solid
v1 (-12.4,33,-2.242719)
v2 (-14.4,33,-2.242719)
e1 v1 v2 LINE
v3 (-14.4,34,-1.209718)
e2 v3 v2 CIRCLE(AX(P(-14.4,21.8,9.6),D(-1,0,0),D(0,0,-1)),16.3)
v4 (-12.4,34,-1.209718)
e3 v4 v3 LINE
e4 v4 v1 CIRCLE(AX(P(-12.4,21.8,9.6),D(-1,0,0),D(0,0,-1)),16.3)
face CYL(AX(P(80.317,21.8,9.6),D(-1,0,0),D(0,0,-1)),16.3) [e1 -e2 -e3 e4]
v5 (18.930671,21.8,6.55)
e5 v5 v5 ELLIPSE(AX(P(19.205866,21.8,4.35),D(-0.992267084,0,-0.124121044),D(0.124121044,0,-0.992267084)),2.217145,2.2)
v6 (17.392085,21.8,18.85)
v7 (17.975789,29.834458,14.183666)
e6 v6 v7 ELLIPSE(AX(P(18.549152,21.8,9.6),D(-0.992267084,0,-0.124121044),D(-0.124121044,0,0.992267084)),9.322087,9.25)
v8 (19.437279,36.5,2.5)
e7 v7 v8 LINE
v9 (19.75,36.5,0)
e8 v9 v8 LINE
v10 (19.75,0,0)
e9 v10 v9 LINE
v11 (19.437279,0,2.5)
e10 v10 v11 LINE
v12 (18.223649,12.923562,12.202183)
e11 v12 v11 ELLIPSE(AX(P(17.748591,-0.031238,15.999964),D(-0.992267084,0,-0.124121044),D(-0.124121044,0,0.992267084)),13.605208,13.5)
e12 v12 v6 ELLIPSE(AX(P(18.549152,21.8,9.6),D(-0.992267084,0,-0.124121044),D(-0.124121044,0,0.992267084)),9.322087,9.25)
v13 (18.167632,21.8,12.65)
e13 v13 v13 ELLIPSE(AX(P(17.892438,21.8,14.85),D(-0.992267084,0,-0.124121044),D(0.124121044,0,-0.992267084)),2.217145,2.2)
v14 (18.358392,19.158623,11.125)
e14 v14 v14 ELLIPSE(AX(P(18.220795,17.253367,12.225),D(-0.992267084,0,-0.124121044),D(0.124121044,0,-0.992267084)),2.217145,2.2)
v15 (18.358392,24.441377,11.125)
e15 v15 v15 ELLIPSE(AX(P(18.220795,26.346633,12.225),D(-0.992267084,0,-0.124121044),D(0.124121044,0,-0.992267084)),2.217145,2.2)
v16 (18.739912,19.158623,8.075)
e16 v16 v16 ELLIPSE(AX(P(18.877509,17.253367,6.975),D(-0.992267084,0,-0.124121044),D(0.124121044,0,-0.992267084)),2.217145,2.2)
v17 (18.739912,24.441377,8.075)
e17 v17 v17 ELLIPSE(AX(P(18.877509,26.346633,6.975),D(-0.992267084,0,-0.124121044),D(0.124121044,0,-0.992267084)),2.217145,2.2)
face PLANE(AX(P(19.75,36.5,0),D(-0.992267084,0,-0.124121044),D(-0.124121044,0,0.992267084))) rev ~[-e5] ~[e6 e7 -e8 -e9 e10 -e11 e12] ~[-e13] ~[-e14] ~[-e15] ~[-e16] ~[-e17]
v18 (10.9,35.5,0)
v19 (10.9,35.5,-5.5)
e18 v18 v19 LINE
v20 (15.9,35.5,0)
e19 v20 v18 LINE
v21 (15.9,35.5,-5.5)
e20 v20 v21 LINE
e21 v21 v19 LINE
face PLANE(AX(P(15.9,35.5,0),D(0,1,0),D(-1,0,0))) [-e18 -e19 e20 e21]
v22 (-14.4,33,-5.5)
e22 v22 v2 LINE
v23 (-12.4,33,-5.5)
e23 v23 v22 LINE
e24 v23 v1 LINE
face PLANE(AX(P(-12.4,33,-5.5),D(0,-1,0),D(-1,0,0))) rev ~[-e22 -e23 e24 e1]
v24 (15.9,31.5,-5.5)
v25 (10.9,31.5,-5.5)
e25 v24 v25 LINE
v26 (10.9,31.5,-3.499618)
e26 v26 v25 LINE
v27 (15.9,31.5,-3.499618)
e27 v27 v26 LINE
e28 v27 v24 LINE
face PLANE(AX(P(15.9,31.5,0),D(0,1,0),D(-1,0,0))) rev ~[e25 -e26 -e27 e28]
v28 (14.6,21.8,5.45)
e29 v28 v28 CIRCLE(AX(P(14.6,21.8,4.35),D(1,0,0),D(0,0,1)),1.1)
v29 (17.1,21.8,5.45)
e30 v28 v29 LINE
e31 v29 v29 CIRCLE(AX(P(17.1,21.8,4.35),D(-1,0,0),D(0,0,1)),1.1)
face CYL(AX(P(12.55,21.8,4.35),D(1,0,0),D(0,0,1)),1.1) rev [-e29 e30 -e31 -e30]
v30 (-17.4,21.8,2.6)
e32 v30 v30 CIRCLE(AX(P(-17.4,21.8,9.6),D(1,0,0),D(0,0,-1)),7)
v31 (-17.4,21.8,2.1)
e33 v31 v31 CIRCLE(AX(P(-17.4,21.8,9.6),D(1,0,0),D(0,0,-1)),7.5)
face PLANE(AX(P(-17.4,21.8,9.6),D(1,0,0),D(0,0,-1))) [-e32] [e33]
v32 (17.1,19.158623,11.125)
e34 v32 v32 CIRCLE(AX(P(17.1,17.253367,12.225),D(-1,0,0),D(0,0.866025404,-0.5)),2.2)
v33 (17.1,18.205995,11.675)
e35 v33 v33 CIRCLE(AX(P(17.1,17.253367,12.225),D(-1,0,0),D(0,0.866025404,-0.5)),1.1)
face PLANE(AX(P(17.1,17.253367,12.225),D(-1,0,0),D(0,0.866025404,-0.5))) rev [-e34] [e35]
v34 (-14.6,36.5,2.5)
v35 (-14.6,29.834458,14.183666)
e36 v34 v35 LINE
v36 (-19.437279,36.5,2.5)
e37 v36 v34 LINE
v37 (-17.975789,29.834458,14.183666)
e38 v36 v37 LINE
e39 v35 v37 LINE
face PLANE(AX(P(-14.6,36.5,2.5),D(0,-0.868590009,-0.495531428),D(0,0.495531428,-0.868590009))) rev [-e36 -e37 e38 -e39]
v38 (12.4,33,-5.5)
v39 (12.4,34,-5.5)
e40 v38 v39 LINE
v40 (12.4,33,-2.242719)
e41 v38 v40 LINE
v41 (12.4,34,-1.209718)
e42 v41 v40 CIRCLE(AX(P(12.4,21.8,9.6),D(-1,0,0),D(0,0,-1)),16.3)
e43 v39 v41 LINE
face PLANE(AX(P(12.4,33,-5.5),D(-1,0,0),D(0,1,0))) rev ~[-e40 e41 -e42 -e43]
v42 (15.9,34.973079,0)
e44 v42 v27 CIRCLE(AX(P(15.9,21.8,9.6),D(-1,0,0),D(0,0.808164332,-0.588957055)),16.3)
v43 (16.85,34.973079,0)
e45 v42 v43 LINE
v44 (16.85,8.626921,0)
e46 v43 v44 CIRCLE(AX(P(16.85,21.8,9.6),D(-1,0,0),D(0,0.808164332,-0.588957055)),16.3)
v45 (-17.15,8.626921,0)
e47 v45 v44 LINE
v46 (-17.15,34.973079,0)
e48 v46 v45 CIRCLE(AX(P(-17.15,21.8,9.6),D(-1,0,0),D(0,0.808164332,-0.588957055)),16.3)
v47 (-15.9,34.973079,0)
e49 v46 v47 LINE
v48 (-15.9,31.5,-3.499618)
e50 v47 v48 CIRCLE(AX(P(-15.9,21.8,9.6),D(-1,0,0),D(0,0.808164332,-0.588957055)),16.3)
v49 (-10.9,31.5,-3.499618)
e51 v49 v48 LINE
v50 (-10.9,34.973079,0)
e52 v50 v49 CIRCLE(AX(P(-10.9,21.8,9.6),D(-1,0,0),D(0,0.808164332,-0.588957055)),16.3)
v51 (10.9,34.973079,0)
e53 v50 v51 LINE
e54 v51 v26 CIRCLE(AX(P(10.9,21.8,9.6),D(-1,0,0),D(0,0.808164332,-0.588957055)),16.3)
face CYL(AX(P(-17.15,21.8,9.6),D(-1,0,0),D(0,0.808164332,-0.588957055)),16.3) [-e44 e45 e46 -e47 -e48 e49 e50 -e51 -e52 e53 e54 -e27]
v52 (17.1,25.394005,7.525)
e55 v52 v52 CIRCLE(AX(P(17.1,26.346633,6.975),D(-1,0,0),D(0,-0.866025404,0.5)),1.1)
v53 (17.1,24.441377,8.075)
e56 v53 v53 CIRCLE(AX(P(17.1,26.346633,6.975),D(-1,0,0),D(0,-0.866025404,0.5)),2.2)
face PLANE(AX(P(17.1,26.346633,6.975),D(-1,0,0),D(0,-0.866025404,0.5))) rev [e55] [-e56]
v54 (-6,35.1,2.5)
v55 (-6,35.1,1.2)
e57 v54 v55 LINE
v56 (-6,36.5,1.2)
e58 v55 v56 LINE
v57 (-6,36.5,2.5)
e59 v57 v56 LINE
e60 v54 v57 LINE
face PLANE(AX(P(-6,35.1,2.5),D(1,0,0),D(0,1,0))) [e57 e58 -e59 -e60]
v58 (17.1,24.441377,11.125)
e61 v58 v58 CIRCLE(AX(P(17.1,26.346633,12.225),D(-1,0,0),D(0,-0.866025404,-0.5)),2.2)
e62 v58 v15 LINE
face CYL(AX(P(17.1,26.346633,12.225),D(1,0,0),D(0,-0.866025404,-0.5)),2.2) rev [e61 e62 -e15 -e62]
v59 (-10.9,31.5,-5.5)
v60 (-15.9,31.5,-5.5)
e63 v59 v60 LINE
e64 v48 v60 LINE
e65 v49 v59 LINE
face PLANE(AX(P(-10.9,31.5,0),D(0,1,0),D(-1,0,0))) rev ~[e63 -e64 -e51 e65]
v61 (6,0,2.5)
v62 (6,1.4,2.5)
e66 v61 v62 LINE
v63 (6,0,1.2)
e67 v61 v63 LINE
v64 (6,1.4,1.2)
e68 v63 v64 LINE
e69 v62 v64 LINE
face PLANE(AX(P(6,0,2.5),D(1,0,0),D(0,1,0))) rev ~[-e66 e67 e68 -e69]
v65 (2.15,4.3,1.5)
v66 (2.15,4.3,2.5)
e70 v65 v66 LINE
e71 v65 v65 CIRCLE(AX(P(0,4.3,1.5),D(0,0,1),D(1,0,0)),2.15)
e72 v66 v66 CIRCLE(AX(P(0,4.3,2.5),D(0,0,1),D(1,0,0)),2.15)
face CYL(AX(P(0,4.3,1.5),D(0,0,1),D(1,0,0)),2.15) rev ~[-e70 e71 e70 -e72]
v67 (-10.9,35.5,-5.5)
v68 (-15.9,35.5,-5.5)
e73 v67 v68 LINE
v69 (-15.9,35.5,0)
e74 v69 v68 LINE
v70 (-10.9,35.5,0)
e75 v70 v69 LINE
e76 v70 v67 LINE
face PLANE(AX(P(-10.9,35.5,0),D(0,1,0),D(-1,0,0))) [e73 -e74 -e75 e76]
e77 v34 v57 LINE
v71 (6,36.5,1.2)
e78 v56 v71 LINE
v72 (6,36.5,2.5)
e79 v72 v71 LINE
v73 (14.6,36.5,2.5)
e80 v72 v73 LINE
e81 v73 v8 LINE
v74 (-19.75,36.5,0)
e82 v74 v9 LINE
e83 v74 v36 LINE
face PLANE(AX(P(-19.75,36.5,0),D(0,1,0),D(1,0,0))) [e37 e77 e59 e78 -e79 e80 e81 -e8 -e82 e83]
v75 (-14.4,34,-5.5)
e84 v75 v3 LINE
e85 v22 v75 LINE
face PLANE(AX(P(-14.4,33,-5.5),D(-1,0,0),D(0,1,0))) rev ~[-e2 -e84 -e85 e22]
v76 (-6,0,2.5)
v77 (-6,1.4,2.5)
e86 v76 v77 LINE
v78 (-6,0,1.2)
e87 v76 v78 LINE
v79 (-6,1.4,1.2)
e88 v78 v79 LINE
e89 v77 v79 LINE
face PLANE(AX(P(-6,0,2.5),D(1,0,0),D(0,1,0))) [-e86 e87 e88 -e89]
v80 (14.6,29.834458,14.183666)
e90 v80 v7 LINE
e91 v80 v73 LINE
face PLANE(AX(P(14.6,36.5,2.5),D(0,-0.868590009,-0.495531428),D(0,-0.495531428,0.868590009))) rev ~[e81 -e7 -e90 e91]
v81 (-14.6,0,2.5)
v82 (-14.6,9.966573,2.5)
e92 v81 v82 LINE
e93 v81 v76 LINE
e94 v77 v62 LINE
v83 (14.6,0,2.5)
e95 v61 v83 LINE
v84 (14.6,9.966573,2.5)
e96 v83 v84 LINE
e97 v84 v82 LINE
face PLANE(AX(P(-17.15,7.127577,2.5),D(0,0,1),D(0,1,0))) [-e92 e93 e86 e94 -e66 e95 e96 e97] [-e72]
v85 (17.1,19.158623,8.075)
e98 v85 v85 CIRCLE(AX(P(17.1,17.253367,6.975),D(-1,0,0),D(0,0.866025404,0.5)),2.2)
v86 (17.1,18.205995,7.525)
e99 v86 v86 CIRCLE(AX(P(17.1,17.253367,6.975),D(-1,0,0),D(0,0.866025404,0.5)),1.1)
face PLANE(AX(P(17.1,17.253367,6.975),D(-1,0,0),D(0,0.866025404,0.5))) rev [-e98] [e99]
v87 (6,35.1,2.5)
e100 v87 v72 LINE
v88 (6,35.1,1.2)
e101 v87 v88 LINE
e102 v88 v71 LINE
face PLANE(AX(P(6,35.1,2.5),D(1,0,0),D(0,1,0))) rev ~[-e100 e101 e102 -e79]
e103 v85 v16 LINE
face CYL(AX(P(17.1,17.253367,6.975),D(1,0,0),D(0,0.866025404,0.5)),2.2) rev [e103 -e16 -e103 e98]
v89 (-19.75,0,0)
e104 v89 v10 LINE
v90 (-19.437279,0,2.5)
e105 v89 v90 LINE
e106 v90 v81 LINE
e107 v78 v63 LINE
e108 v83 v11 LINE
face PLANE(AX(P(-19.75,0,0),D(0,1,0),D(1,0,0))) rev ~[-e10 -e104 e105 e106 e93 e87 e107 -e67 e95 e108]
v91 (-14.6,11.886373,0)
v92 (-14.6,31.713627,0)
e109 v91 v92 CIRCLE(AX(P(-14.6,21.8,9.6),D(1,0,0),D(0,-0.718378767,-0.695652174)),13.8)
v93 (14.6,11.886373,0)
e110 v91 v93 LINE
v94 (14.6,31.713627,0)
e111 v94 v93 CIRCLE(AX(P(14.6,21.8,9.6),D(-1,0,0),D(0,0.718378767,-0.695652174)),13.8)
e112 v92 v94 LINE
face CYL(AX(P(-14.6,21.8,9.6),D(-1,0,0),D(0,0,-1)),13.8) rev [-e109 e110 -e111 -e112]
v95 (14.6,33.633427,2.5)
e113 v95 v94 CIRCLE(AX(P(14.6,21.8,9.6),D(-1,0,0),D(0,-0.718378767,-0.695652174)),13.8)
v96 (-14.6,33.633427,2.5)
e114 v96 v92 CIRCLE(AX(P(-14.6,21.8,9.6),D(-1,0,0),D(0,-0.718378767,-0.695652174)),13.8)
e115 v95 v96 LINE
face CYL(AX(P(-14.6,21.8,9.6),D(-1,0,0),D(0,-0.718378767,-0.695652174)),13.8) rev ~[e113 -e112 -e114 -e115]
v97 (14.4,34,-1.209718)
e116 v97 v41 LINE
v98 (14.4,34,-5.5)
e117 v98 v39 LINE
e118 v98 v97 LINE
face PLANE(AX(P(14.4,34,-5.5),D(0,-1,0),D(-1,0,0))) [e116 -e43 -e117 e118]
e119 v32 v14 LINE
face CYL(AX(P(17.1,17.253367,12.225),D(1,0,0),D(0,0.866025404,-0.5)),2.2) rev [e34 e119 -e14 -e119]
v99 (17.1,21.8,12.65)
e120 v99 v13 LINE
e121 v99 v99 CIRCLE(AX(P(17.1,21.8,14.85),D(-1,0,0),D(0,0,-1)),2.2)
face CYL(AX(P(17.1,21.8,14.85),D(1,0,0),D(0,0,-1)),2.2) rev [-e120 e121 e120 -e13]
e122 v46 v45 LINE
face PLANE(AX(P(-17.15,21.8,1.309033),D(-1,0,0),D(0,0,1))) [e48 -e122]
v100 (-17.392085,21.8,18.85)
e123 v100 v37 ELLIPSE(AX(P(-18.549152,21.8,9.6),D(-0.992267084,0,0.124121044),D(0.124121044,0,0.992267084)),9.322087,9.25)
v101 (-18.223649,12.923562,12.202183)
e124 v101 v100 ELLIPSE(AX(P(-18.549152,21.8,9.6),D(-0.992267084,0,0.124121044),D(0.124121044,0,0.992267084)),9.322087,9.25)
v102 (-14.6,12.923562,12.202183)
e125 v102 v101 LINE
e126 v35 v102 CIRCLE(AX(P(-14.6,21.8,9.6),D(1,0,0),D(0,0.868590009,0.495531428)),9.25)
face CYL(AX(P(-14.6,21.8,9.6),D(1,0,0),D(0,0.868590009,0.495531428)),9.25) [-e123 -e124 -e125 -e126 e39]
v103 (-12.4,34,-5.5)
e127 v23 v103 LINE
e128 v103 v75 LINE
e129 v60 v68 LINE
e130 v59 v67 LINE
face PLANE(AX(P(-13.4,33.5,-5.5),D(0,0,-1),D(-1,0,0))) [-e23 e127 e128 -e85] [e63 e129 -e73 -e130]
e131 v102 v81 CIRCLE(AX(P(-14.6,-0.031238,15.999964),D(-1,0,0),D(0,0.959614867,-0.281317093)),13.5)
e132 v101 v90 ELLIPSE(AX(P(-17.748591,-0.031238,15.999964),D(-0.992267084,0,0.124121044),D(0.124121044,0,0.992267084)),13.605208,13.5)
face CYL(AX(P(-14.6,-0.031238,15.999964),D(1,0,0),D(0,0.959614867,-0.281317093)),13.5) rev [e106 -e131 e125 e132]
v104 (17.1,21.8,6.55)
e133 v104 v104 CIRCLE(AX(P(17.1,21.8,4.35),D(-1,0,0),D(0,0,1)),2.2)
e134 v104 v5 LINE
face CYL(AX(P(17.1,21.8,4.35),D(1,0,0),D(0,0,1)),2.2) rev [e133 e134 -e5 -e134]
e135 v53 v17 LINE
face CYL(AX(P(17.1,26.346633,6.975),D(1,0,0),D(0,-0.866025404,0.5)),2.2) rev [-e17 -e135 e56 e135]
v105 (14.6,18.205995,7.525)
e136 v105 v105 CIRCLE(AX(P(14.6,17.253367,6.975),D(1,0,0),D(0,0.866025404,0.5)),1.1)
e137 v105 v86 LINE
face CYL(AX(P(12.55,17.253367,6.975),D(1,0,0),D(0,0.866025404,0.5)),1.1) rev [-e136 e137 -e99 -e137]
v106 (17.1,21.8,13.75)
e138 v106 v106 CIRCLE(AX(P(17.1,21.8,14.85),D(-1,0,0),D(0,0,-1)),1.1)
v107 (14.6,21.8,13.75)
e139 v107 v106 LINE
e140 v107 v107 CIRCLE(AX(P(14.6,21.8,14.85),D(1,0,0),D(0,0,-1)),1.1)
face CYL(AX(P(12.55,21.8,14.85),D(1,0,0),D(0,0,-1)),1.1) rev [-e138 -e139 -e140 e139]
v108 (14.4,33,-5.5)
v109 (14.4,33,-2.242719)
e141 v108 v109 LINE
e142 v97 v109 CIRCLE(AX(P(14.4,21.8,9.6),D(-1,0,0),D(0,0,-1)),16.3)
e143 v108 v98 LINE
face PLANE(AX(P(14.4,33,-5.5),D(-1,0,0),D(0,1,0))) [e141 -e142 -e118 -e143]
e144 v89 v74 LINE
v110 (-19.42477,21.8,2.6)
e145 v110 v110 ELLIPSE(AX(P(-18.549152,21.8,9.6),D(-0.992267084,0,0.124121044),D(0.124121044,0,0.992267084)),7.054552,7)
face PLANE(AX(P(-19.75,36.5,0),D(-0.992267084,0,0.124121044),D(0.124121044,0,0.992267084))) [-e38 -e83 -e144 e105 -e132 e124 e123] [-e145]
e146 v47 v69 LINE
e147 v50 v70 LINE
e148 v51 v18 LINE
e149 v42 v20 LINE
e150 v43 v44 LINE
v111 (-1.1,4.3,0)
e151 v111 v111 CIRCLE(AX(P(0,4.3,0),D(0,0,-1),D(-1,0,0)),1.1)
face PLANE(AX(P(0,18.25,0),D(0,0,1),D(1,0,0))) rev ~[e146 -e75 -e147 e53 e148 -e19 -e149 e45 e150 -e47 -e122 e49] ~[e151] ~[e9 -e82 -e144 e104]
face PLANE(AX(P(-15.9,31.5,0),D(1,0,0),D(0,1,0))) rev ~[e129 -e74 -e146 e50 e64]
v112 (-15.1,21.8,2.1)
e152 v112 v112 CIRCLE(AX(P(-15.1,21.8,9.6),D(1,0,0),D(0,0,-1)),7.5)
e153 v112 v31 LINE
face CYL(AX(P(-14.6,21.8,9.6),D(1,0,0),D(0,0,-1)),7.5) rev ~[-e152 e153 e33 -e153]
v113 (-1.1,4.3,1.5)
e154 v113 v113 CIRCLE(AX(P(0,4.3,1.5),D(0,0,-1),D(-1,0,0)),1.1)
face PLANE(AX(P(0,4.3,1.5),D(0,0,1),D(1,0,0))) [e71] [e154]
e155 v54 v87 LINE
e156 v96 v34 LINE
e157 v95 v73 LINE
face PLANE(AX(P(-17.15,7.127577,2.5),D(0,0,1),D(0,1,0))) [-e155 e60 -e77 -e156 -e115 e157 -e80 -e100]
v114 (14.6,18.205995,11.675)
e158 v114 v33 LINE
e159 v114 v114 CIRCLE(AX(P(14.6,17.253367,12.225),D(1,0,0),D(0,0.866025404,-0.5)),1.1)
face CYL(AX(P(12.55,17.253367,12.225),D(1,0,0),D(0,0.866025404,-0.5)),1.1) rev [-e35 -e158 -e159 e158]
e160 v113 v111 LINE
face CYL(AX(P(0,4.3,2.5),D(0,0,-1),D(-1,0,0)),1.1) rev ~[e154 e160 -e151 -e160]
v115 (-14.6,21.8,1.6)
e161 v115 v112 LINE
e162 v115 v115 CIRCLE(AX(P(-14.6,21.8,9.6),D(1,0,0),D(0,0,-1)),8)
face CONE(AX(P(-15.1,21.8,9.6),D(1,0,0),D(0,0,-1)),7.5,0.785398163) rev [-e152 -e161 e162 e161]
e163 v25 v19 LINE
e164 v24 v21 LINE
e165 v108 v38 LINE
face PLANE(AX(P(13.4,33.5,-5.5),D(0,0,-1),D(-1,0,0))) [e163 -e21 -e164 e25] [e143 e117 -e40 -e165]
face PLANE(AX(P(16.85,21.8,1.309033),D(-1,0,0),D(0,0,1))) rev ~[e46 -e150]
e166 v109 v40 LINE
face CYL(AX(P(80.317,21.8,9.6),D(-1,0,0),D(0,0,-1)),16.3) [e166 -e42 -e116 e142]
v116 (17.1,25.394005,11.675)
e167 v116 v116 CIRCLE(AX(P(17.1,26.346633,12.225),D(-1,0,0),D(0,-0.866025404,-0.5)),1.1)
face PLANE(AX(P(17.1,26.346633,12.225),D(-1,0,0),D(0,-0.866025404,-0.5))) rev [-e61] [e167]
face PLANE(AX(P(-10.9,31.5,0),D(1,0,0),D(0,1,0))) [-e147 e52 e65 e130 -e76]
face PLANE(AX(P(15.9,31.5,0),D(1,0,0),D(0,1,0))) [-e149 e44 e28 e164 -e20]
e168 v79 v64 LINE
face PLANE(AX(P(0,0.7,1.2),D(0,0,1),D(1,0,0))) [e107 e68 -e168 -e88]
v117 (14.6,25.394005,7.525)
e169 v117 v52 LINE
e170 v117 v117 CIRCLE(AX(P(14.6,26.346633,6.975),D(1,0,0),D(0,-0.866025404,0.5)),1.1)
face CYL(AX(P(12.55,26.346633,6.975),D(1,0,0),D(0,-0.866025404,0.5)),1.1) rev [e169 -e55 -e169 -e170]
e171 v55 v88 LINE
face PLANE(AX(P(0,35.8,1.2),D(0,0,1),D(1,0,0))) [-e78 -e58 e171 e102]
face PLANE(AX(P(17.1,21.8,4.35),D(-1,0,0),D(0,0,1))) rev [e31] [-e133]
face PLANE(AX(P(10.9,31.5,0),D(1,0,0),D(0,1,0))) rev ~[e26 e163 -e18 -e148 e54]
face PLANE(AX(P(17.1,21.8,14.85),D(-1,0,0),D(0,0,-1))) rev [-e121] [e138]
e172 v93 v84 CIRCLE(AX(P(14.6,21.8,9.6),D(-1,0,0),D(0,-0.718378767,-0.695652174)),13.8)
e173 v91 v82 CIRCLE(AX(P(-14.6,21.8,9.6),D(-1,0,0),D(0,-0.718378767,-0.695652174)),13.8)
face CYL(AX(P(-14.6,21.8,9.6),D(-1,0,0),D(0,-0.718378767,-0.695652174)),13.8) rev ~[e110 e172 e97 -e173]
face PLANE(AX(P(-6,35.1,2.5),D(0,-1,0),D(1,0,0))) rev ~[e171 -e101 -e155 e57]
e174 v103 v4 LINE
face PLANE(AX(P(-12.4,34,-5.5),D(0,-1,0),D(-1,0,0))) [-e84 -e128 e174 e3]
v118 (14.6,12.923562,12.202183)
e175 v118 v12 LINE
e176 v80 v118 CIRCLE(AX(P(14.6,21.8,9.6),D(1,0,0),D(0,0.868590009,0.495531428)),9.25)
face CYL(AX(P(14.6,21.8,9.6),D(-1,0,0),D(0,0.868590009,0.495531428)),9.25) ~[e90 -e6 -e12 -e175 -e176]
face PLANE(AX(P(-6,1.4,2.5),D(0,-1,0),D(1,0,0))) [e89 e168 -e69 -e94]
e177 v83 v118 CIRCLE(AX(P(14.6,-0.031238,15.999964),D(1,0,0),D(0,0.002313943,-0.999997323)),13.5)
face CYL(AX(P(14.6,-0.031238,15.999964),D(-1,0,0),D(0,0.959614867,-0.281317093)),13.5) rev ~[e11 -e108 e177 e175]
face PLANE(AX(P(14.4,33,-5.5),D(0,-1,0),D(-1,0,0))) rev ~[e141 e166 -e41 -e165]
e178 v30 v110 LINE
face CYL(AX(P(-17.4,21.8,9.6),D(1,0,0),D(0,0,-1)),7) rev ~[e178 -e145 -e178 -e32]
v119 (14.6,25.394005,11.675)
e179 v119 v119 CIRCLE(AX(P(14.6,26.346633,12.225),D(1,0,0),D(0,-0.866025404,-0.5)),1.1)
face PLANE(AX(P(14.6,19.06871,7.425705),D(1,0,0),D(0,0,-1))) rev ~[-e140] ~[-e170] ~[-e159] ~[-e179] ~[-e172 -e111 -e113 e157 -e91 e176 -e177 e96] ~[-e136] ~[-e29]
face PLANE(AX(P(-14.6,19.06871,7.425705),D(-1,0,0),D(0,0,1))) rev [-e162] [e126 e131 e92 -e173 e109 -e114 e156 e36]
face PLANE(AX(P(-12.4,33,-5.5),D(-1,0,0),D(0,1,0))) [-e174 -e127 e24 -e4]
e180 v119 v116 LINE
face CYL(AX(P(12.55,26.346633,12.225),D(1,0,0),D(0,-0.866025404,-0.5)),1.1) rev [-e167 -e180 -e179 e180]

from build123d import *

# Parameters (mm, degrees)
SKETCH_1_W                   = 39.5
SKETCH_1_H                   = 36.5
EXTRUDE_1_DEPTH              = 2.5
EXTRUDE_START                = -2.6
EXTRUDE_2_DEPTH              = 34
EXTRUDE_START_2              = 14.6
EXTRUDE_3_DEPTH              = 5.15
SKETCH_4_W                   = 5
SKETCH_4_H                   = 4
EXTRUDE_4_DEPTH              = 5.5
CUT_EXTRUDE_1_REACH          = 50.117
CUT_EXTRUDE_1_END_RADIUS     = 16.3
SKETCH_5_W                   = 2
SKETCH_5_H                   = 1
CUT_EXTRUDE_2_DEPTH          = 29.2
SKETCH_7_R                   = 7.5
CUT_EXTRUDE_3_DEPTH          = 2.8
SKETCH_8_R                   = 7
CUT_EXTRUDE_4_DEPTH          = 56.3867764
CHAMFER_1_SIZE               = 0.5
SKETCH_9_W                   = 12
SKETCH_9_H                   = 1.4
CUT_EXTRUDE_5_DEPTH          = 1.3
HOLE_WIZARD_M2_1_D           = 2.2
HOLE_WIZARD_M2_1_CBORE_D     = 4.3
HOLE_WIZARD_M2_1_CBORE_DEPTH = 1
SKETCH_10_W                  = 12
SKETCH_10_H                  = 1.4
CUT_EXTRUDE_6_DEPTH          = 1.3
PATTERN_CIRCULAR_1_COUNT     = 6
CUT_EXTRUDE_7_DEPTH          = 46.581081602
SKETCH_17_R                  = 13.8
CUT_EXTRUDE_8_DEPTH          = 29.2


with BuildPart() as part:
    # 草图1 → 凸台-拉伸1 (new body)
    with BuildSketch(Plane.XY):
        with Locations((0, 18.25)):
            Rectangle(SKETCH_1_W, SKETCH_1_H)
    extrude(amount=EXTRUDE_1_DEPTH)

    # 草图2 → 凸台-拉伸2 (add)
    with BuildSketch(Plane.ZY.offset(19.75).offset(EXTRUDE_START)):
        with BuildLine():
            Line((2.5, 7.127576887), (2.5, 36.472423113))
            ThreePointArc((2.5, 36.472423113), (1.216414342, 35.778751429), (0, 34.973078608))
            Line((0, 34.973078608), (0, 8.626921392))
            ThreePointArc((0, 8.626921392), (1.216414342, 7.821248571), (2.5, 7.127576887))
        make_face()
        with BuildLine():
            Line((0, 8.626921392), (0, 34.973078608))
            ThreePointArc((0, 34.973078608), (-6.7, 21.8), (0, 8.626921392))
        make_face()
    extrude(amount=-EXTRUDE_2_DEPTH)

    # 草图3 → 凸台-拉伸3 (add, through all)
    with BuildSketch(Plane(origin=(0, 0, 0), x_dir=(0, 0, -1), z_dir=(1, 0, 0)).offset(EXTRUDE_START_2)):
        with BuildLine():
            Line((-2.5, 36.5), (-14.183665706, 29.834457586))
            ThreePointArc((-14.183665706, 29.834457586), (-18.787148585, 20.723523862), (-12.202183107, 12.923562478))
            ThreePointArc((-12.202183107, 12.923562478), (-5.203778934, 8.073846044), (-2.5, 0))
            Line((-2.5, 0), (-2.5, 36.5))
        make_face()
    extrude_3 = extrude(amount=EXTRUDE_3_DEPTH)

    # 镜向1: 凸台-拉伸3 across plane
    add(extrude_3.mirror(Plane(origin=(0, 0, 0), x_dir=(0, 0, 1), z_dir=(1, 0, 0))))

    # 草图4 → 凸台-拉伸4 (add)
    with BuildSketch(Plane(origin=(0, 0, 0), x_dir=(-1, 0, 0), z_dir=(0, 0, -1))):
        with Locations((-13.4, 33.5)):
            Rectangle(SKETCH_4_W, SKETCH_4_H)
        with Locations((13.4, 33.5)):
            Rectangle(SKETCH_4_W, SKETCH_4_H)
    extrude(amount=EXTRUDE_4_DEPTH)

    # 切除-拉伸1: up to this cylinder (the profile starts outside it)
    cut_extrude_1_end = Plane(origin=(0, 21.8, 9.6), z_dir=(-1, 0, 0)) * Cylinder(CUT_EXTRUDE_1_END_RADIUS, 160.634, mode=Mode.PRIVATE)
    # 草图5 → 切除-拉伸1 (cut, up to the surface)
    with BuildSketch(Plane(origin=(0, 0, -5.5), x_dir=(-1, 0, 0), z_dir=(0, 0, -1)), mode=Mode.PRIVATE) as cut_extrude_1_sk1:
        with Locations((-13.4, 33.5)):
            Rectangle(SKETCH_5_W, SKETCH_5_H)
    cut_extrude_1_tool1 = extrude(cut_extrude_1_sk1.sketch, amount=-CUT_EXTRUDE_1_REACH, mode=Mode.PRIVATE) - cut_extrude_1_end
    add(cut_extrude_1_tool1.solids().sort_by_distance((13.4, 33.5, -5.5))[0], mode=Mode.SUBTRACT)
    # 草图5 → 切除-拉伸1 (cut, up to the surface)
    with BuildSketch(Plane(origin=(0, 0, -5.5), x_dir=(-1, 0, 0), z_dir=(0, 0, -1)), mode=Mode.PRIVATE) as cut_extrude_1_sk2:
        with Locations((13.4, 33.5)):
            Rectangle(SKETCH_5_W, SKETCH_5_H)
    cut_extrude_1_tool2 = extrude(cut_extrude_1_sk2.sketch, amount=-CUT_EXTRUDE_1_REACH, mode=Mode.PRIVATE) - cut_extrude_1_end
    add(cut_extrude_1_tool2.solids().sort_by_distance((-13.4, 33.5, -5.5))[0], mode=Mode.SUBTRACT)

    # 草图6 → 切除-拉伸2 (cut)
    with BuildSketch(Plane(origin=(-14.6, 0, 0), x_dir=(0, 0, -1), z_dir=(1, 0, 0))):
        with BuildLine():
            Line((0, 31.713626985), (0, 11.886373015))
            ThreePointArc((0, 11.886373015), (-23.4, 21.8), (0, 31.713626985))
        make_face()
    extrude(amount=CUT_EXTRUDE_2_DEPTH, mode=Mode.SUBTRACT)

    # 草图7 → 切除-拉伸3 (cut)
    with BuildSketch(Plane(origin=(-14.6, 0, 0), x_dir=(0, 0, -1), z_dir=(1, 0, 0))):
        with Locations((-9.6, 21.8)):
            Circle(SKETCH_7_R)
    extrude(amount=-CUT_EXTRUDE_3_DEPTH, mode=Mode.SUBTRACT)

    # 草图8 → 切除-拉伸4 (cut, through all)
    with BuildSketch(Plane(origin=(-17.4, 0, 0), x_dir=(0, 0, -1), z_dir=(1, 0, 0))):
        with Locations((-9.6, 21.8)):
            Circle(SKETCH_8_R)
    extrude(amount=-CUT_EXTRUDE_4_DEPTH, mode=Mode.SUBTRACT)

    # 倒角1
    chamfer_1_edges = [part.edges().sort_by_distance(p)[0] for p in [
        (-14.6, 21.8, 17.1),
    ]]
    chamfer(chamfer_1_edges, length=CHAMFER_1_SIZE)

    # 草图9 → 切除-拉伸5 (cut)
    with BuildSketch(Plane.XY.offset(2.5)):
        with Locations((0, 35.8)):
            Rectangle(SKETCH_9_W, SKETCH_9_H)
    extrude(amount=-CUT_EXTRUDE_5_DEPTH, mode=Mode.SUBTRACT)

    # M2 六角圆柱头螺钉的柱形沉头孔1 (through all)
    with Locations(Plane.XY.offset(2.5)):
        with Locations((0, 4.3)):
            CounterBoreHole(HOLE_WIZARD_M2_1_D / 2, HOLE_WIZARD_M2_1_CBORE_D / 2, HOLE_WIZARD_M2_1_CBORE_DEPTH)

    # 草图10 → 切除-拉伸6 (cut)
    with BuildSketch(Plane.XY.offset(2.5)):
        with Locations((0, 0.7)):
            Rectangle(SKETCH_10_W, SKETCH_10_H)
    extrude(amount=-CUT_EXTRUDE_6_DEPTH, mode=Mode.SUBTRACT)

    # 草图15 → M2 六角圆柱头螺钉的柱形沉头孔2 (revolve, cut)
    with BuildSketch(Plane(origin=(19.75, 21.8, 14.85), x_dir=(0, 0, -1), z_dir=(0, 1, 0))):
        Polygon((0, 0), (0, 7.860946681), (1.1, 7.2), (1.1, 2.65), (2.2, 2.65), (2.2, 0), align=None)
    hole_wizard_m2_2 = revolve(axis=Axis((26.1, 21.8, 14.85), (-1, 0, 0)), mode=Mode.SUBTRACT)

    # 阵列(圆周)1: M2 六角圆柱头螺钉的柱形沉头孔2 ×6 about axis
    pattern_circular_1_axis = Axis((0, 21.8, 9.6), (1, 0, 0))
    for i in range(1, PATTERN_CIRCULAR_1_COUNT):
        add(hole_wizard_m2_2.rotate(pattern_circular_1_axis, i * 360 / PATTERN_CIRCULAR_1_COUNT), mode=Mode.SUBTRACT)

    # 草图16 → 切除-拉伸7 (cut, through all)
    with BuildSketch(Plane(origin=(0, 36.5, 0), x_dir=(1, 0, 0), z_dir=(0, 1, 0))):
        Polygon((19.75, 0), (17.392084769, -18.85), (19.75, -18.85), align=None)
        Polygon((-17.392084769, -18.85), (-19.75, -18.85), (-19.75, 0), align=None)
    extrude(amount=-CUT_EXTRUDE_7_DEPTH, mode=Mode.SUBTRACT)

    # 草图17 → 切除-拉伸8 (cut)
    with BuildSketch(Plane(origin=(-14.6, 0, 0), x_dir=(0, 0, -1), z_dir=(1, 0, 0))):
        with Locations((-9.6, 21.8)):
            Circle(SKETCH_17_R)
    extrude(amount=CUT_EXTRUDE_8_DEPTH, mode=Mode.SUBTRACT)


solid = part.part
